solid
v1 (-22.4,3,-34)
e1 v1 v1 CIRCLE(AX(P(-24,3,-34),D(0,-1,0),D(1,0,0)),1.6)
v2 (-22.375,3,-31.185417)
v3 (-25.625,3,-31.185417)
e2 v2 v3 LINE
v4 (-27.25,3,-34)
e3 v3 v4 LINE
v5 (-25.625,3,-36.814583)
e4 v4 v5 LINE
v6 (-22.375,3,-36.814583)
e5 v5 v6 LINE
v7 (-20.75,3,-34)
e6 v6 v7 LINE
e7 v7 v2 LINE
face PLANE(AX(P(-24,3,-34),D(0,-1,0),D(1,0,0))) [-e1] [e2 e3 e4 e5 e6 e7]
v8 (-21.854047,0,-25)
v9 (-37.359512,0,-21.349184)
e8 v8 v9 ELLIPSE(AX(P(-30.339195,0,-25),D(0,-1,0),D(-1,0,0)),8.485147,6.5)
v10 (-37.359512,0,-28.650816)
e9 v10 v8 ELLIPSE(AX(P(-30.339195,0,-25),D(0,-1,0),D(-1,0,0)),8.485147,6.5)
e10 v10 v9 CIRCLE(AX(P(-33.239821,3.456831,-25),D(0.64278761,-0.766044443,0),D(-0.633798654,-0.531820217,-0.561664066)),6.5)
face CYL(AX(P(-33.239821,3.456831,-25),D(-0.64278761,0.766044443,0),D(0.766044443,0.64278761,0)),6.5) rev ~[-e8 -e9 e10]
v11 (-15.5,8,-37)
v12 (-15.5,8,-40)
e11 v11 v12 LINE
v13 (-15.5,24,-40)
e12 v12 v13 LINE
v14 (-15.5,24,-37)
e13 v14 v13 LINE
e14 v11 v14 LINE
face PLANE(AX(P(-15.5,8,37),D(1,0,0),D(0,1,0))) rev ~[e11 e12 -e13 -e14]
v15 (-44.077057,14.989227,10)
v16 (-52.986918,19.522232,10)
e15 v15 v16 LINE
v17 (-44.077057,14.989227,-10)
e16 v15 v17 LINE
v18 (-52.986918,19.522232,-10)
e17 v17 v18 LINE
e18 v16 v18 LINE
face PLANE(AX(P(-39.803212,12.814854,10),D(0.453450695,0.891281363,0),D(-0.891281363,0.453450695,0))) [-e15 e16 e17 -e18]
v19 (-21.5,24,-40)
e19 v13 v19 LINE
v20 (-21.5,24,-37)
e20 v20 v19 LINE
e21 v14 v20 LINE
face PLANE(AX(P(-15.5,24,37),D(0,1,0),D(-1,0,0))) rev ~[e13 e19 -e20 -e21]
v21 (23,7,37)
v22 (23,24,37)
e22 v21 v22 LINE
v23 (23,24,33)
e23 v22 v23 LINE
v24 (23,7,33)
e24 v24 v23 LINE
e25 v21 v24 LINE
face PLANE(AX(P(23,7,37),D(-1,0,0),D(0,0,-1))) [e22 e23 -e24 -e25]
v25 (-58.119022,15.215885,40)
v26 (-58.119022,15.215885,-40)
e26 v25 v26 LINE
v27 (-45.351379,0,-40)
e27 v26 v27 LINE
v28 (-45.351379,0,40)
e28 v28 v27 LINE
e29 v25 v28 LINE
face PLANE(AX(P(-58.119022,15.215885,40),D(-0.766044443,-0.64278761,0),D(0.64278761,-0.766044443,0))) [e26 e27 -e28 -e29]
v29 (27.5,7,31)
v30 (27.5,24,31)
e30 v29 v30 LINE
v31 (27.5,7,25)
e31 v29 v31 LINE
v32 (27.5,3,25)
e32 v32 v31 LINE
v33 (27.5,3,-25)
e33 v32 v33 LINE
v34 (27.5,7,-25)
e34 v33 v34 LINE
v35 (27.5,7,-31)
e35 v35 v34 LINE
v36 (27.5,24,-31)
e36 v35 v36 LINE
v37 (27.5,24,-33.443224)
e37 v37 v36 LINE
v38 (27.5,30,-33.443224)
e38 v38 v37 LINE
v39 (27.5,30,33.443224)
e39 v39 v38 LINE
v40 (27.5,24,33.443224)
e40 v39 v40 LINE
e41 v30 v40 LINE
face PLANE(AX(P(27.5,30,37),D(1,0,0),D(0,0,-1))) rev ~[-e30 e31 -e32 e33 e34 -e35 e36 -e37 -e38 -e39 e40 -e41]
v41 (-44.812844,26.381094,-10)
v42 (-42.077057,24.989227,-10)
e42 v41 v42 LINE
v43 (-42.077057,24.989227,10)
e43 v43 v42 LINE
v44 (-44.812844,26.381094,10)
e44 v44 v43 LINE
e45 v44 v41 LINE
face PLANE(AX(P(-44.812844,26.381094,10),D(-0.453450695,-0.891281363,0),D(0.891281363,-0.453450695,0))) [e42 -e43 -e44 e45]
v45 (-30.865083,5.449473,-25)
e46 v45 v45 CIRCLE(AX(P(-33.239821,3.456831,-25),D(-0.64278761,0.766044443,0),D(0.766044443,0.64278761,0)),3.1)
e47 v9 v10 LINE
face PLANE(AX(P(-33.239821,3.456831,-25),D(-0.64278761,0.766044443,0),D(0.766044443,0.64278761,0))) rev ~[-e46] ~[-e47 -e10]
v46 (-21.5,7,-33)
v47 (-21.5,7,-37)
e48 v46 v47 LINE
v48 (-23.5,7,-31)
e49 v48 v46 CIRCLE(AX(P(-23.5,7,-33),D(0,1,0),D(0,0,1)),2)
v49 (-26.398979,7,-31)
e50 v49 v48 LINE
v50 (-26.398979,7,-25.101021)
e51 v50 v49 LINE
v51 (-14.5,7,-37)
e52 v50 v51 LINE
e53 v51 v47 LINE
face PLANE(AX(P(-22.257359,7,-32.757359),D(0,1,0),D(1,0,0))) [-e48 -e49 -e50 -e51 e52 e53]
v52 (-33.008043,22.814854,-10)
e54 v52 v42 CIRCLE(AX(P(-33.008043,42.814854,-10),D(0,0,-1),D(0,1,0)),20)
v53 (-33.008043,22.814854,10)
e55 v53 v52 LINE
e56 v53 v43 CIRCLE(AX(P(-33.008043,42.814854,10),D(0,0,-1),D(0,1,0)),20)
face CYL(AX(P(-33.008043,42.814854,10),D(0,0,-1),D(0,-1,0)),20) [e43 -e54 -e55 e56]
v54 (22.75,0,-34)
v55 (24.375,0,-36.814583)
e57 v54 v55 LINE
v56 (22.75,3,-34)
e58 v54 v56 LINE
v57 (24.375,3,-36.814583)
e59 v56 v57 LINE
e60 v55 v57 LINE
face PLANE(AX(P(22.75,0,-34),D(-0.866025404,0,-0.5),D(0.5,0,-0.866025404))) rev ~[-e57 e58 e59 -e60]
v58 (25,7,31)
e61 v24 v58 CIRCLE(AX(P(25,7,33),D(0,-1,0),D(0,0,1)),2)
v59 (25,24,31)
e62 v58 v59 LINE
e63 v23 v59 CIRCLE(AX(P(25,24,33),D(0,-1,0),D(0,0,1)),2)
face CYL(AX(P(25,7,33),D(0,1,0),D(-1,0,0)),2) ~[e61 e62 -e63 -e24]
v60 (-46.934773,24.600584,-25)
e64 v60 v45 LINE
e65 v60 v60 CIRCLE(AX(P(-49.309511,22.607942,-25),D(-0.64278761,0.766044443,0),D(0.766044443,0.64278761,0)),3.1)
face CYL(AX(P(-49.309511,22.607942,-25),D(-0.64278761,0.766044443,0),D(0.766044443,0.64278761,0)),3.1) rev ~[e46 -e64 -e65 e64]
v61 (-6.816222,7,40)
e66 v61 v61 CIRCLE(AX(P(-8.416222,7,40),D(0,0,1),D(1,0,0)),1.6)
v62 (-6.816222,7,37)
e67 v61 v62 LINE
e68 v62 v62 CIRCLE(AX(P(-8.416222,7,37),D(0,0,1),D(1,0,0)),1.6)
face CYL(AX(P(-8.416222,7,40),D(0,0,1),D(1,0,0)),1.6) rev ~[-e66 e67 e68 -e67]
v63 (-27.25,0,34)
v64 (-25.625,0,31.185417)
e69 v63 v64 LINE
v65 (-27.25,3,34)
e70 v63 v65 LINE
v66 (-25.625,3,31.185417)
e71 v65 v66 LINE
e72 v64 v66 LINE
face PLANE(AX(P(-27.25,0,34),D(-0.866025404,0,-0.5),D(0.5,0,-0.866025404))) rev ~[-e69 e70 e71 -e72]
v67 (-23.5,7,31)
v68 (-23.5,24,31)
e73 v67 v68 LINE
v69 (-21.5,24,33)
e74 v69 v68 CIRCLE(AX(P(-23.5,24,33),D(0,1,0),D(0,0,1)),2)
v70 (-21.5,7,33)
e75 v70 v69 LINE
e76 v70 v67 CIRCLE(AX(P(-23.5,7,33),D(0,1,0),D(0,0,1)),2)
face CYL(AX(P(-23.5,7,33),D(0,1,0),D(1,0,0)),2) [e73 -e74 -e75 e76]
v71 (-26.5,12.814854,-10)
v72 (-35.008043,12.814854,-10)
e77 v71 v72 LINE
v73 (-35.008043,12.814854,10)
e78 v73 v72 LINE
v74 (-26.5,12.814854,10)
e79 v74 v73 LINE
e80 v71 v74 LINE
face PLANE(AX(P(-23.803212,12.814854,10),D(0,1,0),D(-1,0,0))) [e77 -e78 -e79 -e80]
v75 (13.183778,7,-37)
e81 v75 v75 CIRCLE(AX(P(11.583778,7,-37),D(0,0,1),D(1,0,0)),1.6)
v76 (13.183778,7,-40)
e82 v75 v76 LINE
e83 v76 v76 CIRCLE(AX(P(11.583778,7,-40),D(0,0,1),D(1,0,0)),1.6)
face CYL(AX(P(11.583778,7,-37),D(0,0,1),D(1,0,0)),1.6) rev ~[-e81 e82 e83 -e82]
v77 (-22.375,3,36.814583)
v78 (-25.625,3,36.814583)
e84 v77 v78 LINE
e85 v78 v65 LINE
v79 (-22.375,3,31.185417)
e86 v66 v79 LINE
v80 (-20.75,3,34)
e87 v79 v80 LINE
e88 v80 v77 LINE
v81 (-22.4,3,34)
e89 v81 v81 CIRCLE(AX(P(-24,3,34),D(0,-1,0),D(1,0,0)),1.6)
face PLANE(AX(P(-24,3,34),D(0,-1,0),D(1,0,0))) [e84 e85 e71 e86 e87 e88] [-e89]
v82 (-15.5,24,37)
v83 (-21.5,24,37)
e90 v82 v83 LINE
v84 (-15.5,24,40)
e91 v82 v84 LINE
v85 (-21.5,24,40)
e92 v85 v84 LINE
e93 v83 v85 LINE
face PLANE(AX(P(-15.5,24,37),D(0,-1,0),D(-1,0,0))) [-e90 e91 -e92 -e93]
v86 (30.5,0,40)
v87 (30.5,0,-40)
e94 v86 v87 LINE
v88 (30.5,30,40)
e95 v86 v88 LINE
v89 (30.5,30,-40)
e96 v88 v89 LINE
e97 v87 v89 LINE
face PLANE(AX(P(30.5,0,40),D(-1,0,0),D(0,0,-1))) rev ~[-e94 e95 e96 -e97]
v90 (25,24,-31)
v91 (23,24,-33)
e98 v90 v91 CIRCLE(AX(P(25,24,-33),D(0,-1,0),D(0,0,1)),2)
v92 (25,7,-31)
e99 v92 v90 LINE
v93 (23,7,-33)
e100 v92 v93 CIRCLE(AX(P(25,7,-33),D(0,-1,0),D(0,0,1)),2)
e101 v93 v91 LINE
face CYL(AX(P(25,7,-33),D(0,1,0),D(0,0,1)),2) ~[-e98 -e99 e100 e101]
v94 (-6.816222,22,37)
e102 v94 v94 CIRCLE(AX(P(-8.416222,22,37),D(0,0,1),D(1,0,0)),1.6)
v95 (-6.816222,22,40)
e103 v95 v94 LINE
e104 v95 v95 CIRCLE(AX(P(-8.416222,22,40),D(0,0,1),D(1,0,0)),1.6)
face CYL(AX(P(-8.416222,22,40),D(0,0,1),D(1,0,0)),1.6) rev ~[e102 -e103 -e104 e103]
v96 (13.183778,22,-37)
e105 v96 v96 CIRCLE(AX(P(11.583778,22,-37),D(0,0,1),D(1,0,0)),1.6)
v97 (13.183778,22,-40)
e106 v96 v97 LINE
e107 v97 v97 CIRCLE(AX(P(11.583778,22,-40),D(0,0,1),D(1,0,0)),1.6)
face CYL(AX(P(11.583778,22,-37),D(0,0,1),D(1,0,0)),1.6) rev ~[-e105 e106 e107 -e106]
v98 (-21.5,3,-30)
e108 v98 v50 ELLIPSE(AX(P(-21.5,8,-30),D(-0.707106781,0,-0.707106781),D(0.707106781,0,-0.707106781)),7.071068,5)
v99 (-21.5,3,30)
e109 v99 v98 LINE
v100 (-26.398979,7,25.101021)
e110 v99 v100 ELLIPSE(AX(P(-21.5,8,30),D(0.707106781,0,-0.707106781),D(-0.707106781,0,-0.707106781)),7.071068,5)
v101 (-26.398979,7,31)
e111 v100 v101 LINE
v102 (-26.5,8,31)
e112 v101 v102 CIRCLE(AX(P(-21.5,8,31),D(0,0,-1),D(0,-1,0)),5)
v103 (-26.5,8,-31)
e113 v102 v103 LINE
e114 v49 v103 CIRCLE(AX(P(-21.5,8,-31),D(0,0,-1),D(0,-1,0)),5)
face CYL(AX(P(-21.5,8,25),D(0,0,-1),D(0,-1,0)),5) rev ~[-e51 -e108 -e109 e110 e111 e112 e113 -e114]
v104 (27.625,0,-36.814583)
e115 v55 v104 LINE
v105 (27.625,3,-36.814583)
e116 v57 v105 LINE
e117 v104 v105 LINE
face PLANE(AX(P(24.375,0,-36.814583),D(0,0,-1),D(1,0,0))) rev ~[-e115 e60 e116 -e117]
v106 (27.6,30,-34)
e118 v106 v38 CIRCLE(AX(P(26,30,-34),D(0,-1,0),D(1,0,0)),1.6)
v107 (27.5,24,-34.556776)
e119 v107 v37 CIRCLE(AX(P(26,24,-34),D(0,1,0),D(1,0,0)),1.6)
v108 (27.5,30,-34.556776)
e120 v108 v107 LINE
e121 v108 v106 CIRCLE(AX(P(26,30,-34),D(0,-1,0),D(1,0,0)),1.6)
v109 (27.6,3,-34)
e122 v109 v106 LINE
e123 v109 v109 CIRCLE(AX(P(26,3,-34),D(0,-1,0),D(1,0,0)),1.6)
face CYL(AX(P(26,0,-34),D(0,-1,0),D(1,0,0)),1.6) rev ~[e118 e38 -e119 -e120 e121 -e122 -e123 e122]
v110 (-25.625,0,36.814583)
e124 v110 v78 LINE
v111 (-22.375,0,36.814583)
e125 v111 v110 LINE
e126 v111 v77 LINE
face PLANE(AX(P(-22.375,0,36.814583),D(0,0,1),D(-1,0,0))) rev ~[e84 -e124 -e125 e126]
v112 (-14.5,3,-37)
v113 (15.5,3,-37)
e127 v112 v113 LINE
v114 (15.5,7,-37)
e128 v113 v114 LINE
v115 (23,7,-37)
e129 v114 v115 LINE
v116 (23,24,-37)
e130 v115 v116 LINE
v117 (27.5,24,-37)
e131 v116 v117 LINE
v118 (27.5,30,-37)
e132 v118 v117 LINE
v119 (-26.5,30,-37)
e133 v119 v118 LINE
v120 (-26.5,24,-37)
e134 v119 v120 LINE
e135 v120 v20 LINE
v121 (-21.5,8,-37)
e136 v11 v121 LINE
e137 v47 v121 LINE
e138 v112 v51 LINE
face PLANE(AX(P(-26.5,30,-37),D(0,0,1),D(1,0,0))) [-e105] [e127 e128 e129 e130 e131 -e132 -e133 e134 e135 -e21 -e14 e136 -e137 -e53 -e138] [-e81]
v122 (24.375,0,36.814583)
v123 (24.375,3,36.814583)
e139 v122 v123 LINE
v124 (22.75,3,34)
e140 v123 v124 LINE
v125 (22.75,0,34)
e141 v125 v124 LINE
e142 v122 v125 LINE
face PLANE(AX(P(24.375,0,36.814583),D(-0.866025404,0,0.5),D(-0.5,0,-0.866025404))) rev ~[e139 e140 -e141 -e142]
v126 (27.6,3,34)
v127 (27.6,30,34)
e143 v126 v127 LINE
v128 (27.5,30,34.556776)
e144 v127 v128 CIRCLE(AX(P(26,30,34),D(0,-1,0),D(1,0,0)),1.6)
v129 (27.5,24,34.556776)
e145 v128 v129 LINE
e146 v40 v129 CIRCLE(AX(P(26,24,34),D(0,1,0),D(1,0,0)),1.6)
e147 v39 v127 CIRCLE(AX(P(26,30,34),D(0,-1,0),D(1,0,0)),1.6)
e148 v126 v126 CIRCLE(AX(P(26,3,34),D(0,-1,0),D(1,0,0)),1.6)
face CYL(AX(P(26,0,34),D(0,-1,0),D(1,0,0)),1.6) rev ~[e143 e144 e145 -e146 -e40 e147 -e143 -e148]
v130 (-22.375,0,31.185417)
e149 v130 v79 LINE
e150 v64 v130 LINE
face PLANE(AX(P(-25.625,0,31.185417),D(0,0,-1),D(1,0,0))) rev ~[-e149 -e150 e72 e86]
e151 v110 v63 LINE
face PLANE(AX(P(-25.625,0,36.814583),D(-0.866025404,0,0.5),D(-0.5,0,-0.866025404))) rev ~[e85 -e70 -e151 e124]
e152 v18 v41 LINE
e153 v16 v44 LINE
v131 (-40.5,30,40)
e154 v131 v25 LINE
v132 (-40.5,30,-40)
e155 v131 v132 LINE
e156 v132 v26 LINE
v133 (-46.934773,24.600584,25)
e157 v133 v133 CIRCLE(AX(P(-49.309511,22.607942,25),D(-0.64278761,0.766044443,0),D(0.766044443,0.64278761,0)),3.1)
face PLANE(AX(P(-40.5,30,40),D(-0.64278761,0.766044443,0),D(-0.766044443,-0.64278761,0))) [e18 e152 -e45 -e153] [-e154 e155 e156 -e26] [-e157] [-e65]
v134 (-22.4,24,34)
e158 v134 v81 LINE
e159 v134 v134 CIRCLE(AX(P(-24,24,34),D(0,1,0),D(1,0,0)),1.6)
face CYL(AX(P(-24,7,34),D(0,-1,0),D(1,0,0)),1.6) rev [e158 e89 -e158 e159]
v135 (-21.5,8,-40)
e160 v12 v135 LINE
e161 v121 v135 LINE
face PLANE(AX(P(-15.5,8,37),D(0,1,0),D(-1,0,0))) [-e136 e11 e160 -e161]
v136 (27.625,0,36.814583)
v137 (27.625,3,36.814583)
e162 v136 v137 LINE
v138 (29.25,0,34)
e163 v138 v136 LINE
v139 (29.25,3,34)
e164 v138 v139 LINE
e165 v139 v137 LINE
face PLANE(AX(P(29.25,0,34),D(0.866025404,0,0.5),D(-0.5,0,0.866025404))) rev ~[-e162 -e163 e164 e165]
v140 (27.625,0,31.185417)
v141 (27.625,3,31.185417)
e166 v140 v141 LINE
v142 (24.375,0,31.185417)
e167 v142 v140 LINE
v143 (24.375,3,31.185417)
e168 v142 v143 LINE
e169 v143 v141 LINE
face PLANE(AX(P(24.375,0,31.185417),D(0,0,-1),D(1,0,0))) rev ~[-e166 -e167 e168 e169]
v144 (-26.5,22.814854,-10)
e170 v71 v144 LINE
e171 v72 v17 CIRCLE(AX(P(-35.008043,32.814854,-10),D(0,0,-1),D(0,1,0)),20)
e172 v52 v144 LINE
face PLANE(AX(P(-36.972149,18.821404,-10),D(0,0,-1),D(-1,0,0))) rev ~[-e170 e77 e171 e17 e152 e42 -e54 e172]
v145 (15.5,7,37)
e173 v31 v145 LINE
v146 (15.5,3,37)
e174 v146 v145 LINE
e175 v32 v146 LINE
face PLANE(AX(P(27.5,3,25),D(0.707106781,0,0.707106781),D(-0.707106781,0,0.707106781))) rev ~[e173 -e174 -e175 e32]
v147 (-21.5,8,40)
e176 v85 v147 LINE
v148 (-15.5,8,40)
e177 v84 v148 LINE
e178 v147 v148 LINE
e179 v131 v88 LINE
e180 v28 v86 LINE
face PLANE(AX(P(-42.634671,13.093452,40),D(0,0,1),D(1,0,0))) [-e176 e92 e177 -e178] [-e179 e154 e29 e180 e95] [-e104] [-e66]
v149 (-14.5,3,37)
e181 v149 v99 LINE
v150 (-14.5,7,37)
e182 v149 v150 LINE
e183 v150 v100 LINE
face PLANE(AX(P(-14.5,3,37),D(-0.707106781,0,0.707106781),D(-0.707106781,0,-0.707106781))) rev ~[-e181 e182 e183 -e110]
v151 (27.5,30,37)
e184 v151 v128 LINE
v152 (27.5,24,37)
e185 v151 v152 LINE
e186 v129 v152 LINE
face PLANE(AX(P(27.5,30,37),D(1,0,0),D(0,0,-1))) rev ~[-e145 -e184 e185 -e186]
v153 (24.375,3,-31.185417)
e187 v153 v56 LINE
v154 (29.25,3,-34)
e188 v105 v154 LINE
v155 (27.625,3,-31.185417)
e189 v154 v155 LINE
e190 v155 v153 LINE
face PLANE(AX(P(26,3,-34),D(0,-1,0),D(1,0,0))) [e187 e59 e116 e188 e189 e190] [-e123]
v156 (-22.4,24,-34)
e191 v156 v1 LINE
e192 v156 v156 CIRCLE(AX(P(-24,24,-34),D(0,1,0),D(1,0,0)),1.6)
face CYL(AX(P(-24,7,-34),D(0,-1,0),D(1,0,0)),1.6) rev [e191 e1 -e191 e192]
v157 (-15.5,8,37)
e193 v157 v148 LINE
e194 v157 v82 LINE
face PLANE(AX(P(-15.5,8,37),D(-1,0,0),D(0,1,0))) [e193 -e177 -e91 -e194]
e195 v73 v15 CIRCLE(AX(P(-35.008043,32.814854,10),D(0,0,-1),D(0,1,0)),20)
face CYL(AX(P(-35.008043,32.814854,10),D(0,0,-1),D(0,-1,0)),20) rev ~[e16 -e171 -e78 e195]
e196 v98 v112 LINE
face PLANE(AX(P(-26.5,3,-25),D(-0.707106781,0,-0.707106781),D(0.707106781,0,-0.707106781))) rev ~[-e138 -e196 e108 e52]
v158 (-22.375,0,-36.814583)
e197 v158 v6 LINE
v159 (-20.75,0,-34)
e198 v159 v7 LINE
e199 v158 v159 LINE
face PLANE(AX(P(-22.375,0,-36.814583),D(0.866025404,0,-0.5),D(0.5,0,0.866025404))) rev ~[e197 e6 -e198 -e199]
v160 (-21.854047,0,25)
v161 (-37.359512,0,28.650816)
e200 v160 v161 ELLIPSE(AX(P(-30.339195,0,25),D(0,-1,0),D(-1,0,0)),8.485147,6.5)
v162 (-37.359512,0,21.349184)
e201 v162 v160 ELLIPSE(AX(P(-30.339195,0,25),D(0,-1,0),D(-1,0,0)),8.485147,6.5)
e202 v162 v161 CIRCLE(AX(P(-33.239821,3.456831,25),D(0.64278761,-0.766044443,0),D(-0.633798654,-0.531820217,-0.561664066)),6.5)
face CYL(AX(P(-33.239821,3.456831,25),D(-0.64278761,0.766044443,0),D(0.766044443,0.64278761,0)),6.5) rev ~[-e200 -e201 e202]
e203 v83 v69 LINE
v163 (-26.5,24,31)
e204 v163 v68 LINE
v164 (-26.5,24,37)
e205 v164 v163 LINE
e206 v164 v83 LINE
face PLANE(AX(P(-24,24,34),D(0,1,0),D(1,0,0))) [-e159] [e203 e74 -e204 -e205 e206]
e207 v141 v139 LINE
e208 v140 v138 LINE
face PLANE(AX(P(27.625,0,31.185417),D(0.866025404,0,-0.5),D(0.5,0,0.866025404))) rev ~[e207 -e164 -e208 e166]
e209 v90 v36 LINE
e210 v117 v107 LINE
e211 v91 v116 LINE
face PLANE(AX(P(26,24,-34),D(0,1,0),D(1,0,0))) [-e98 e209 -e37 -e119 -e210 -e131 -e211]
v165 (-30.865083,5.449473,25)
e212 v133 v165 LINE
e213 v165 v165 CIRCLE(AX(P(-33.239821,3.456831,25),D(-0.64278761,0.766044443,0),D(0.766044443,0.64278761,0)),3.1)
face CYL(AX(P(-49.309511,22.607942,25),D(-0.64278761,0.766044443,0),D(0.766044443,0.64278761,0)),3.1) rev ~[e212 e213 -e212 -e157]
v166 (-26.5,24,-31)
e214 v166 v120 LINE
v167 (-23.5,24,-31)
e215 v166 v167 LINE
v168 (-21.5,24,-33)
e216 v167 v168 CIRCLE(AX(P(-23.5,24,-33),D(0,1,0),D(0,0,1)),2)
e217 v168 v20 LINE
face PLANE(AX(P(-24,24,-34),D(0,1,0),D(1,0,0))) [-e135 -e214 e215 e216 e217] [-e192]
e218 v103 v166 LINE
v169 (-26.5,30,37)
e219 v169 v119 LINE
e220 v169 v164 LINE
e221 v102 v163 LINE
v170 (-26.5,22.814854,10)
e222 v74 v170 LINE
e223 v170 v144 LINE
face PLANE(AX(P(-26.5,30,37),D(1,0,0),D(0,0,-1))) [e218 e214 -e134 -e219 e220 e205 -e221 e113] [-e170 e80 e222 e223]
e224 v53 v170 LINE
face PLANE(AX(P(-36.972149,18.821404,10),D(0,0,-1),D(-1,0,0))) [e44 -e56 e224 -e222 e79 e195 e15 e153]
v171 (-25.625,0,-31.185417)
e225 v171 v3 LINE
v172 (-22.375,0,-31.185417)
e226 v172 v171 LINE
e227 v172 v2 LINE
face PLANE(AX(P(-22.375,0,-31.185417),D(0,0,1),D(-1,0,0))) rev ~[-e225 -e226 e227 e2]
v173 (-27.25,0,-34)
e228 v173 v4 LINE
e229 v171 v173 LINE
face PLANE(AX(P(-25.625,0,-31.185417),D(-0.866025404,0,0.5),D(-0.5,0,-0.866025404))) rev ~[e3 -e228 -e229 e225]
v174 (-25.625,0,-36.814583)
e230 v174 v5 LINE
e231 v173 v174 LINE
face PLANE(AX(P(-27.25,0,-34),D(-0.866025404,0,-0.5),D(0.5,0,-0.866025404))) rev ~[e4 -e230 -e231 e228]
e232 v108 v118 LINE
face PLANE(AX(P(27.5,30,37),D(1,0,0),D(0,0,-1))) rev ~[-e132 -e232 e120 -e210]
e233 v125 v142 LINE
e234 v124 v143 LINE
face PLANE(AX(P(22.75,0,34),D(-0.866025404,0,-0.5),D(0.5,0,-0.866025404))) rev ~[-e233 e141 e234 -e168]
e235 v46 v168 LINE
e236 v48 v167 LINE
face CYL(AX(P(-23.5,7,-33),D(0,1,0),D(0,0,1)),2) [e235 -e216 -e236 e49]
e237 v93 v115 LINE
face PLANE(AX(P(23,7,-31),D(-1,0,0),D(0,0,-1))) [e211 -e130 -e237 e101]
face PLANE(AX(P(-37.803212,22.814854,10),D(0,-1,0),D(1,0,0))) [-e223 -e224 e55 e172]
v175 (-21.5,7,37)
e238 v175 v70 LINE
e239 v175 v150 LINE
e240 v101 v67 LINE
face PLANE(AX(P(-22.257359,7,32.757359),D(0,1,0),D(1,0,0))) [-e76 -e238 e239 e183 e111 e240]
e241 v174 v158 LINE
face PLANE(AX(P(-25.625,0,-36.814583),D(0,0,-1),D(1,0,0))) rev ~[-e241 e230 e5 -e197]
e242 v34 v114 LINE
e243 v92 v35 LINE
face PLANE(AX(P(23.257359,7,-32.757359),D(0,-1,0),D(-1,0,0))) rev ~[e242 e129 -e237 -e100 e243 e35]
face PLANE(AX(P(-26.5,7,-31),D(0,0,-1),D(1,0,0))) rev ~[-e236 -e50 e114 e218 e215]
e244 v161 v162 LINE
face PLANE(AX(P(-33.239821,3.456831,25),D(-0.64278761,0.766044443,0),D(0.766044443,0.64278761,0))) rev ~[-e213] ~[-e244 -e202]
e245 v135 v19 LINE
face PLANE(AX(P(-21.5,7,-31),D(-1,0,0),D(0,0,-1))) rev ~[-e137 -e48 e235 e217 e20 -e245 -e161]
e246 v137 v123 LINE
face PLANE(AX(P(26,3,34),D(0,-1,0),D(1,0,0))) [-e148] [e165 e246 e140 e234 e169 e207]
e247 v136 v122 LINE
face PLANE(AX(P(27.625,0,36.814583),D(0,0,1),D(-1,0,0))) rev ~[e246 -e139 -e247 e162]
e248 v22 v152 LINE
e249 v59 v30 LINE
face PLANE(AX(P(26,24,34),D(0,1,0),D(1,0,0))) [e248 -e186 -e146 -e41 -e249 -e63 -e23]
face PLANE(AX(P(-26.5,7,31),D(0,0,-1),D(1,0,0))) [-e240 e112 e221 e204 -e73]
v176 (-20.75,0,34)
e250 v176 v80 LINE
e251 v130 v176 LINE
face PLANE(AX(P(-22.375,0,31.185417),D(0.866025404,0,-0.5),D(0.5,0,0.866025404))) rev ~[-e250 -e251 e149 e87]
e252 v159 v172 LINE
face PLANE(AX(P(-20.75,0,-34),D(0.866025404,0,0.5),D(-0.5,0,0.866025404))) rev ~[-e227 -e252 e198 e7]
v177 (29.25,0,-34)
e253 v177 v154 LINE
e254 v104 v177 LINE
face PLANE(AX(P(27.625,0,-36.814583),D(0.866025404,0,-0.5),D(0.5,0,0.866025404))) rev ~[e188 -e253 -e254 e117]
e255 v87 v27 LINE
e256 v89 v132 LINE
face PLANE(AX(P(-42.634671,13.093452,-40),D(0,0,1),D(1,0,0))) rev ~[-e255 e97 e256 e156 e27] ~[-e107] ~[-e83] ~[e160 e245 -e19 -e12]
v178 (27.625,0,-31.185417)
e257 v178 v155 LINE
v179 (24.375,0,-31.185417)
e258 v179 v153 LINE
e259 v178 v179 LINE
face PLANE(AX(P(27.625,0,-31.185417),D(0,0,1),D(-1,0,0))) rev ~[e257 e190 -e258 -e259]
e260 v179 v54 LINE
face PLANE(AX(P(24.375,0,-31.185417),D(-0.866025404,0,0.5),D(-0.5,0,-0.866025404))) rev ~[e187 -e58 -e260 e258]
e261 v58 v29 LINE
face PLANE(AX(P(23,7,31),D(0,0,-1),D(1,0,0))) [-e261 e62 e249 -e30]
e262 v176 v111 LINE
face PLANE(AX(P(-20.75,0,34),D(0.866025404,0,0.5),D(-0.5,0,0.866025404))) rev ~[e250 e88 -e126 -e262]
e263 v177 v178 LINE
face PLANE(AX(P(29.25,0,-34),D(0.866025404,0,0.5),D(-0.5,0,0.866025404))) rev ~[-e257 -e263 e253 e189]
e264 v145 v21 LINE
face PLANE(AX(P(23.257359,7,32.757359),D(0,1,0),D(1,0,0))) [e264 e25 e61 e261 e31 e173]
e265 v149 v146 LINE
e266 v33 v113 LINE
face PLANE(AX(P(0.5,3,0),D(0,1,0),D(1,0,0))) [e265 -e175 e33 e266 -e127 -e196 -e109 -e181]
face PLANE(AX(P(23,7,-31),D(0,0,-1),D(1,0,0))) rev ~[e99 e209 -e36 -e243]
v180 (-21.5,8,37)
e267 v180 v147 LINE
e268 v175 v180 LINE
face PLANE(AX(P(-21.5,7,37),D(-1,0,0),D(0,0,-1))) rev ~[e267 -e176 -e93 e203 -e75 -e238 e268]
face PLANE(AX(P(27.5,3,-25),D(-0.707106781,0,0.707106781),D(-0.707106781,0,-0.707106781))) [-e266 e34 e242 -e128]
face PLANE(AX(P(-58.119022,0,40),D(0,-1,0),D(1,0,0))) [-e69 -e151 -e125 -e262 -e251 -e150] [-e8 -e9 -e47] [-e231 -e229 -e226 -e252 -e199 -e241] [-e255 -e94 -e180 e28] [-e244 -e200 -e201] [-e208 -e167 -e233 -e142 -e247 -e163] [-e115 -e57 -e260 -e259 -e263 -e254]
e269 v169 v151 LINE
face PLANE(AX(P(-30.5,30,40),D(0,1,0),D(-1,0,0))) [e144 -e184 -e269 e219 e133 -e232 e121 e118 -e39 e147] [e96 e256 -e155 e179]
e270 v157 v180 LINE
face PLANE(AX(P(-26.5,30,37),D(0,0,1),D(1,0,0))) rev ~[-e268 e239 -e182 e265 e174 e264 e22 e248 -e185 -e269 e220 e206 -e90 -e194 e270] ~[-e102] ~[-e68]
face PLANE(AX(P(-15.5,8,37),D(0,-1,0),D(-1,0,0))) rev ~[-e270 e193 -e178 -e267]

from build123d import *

# Parameters (mm, degrees)
SKETCH1_W                = 61
SKETCH1_H                = 80
BOSS_EXTRUDE1_DEPTH      = 30
SKETCH2_W                = 54
SKETCH2_H                = 74
CUT_EXTRUDE1_DEPTH       = 27
BOSS_EXTRUDE3_DEPTH      = 80
BOSS_EXTRUDE2_DEPTH      = 4
SKETCH5_R                = 1.6
CUT_EXTRUDE3_DEPTH       = 31
CUT_EXTRUDE4_DEPTH       = 3
CUT_EXTRUDE6_DEPTH       = 81
SKETCH16_R               = 3.1
CUT_EXTRUDE8_DEPTH       = 69.619253581
FILLET1_R                = 5
CUT_EXTRUDE9_START       = -25
SKETCH17_R               = 6.5
CUT_EXTRUDE9_DEPTH       = 10
CUT_EXTRUDE10_START      = -30
CUT_EXTRUDE10_DEPTH      = 20
FILLET2_R                = 20
CUT_EXTRUDE11_REACH      = 82
SKETCH19_R               = 1.6
SKETCH20_W               = 6
SKETCH20_H               = 16
CUT_EXTRUDE12_DEPTH      = 78
CUT_EXTRUDE12_DEPTH_BACK = 4
SKETCH21_W               = 5
SKETCH21_H               = 6
SKETCH21_R               = 1.6
SKETCH21_W_2             = 6
BOSS_EXTRUDE4_DEPTH      = 17
FILLET4_R                = 2
CUT_EXTRUDE13_START      = -77
SKETCH22_R               = 1.6
CUT_EXTRUDE13_DEPTH      = 4


with BuildPart() as part:
    # Sketch1 → Boss-Extrude1 (new body)
    with BuildSketch(Plane(origin=(0, 0, 0), x_dir=(1, 0, 0), z_dir=(0, 1, 0))):
        Rectangle(SKETCH1_W, SKETCH1_H)
    extrude(amount=BOSS_EXTRUDE1_DEPTH)

    # Sketch2 → Cut-Extrude1 (cut)
    with BuildSketch(Plane(origin=(0, 30, 0), x_dir=(1, 0, 0), z_dir=(0, 1, 0))):
        with Locations((0.5, 0)):
            Rectangle(SKETCH2_W, SKETCH2_H)
    extrude(amount=-CUT_EXTRUDE1_DEPTH, mode=Mode.SUBTRACT)

    # Sketch11 → Boss-Extrude3 (add)
    with BuildSketch(Plane.XY.offset(40)):
        Polygon((-30.5, 30), (-40.5, 30), (-58.119022192, 15.215884977), (-58.119022192, 0), (-30.5, 0), align=None)
    extrude(amount=-BOSS_EXTRUDE3_DEPTH)

    # Sketch7 → Boss-Extrude2 (add)
    with BuildSketch(Plane(origin=(0, 3, 0), x_dir=(1, 0, 0), z_dir=(0, 1, 0))):
        Polygon((27.5, -25), (15.5, -37), (27.5, -37), align=None)
        Polygon((27.5, 25), (15.5, 37), (27.5, 37), align=None)
        Polygon((-26.5, 25), (-14.5, 37), (-26.5, 37), align=None)
        Polygon((-14.5, -37), (-26.5, -25), (-26.5, -37), align=None)
    extrude(amount=BOSS_EXTRUDE2_DEPTH)

    # Sketch5 → Cut-Extrude3 (cut, through all)
    with BuildSketch(Plane.XZ):
        with Locations((-24, -34)):
            Circle(SKETCH5_R)
        with Locations((-24, 34)):
            Circle(SKETCH5_R)
        with Locations((26, 34)):
            Circle(SKETCH5_R)
        with Locations((26, -34)):
            Circle(SKETCH5_R)
    extrude(amount=-CUT_EXTRUDE3_DEPTH, mode=Mode.SUBTRACT)

    # Sketch8 → Cut-Extrude4 (cut)
    with BuildSketch(Plane.XZ):
        Polygon((-25.625, 36.814582562), (-27.25, 34), (-25.625, 31.185417438), (-22.375, 31.185417438), (-20.75, 34), (-22.375, 36.814582562), align=None)
        Polygon((24.375, 36.814582562), (22.75, 34), (24.375, 31.185417438), (27.625, 31.185417438), (29.25, 34), (27.625, 36.814582562), align=None)
        Polygon((-25.625, -31.185417438), (-27.25, -34), (-25.625, -36.814582562), (-22.375, -36.814582562), (-20.75, -34), (-22.375, -31.185417438), align=None)
        Polygon((24.375, -31.185417438), (22.75, -34), (24.375, -36.814582562), (27.625, -36.814582562), (29.25, -34), (27.625, -31.185417438), align=None)
    extrude(amount=-CUT_EXTRUDE4_DEPTH, mode=Mode.SUBTRACT)

    # Sketch12 → Cut-Extrude6 (cut, through all)
    with BuildSketch(Plane.XY.offset(40)):
        Polygon((-58.119022192, 15.215884977), (-45.351378719, 0), (-58.119022192, 0), align=None)
    extrude(amount=-CUT_EXTRUDE6_DEPTH, mode=Mode.SUBTRACT)

    # Sketch16 → Cut-Extrude8 (cut, through all)
    with BuildSketch(Plane(origin=(-31.505740697, 37.547079664, 0), x_dir=(0.766044443, 0.64278761, 0), z_dir=(-0.64278761, 0.766044443, 0))):
        with Locations((-23.241171656, 25)):
            Circle(SKETCH16_R)
        with Locations((-23.241171656, -25)):
            Circle(SKETCH16_R)
    extrude(amount=-CUT_EXTRUDE8_DEPTH, mode=Mode.SUBTRACT)

    # Fillet1
    fillet1_edges = [part.edges().sort_by_distance(p)[0] for p in [
        (-26.5, 3, 0),
    ]]
    fillet(fillet1_edges, radius=FILLET1_R)

    # Sketch17 → Cut-Extrude9 (cut)
    with BuildSketch(Plane(origin=(-31.505740697, 37.547079664, 0), x_dir=(0.766044443, 0.64278761, 0), z_dir=(-0.64278761, 0.766044443, 0)).offset(CUT_EXTRUDE9_START)):
        with Locations((-23.241171656, -25)):
            Circle(SKETCH17_R)
        with Locations((-23.241171656, 25)):
            Circle(SKETCH17_R)
    extrude(amount=-CUT_EXTRUDE9_DEPTH, mode=Mode.SUBTRACT)

    # Sketch18 → Cut-Extrude10 (cut)
    with BuildSketch(Plane.XY.offset(40).offset(CUT_EXTRUDE10_START)):
        Polygon((-44.812844495, 26.381093775), (-37.803211847, 22.814854282), (-23.803211847, 22.814854282), (-23.803211847, 12.814854282), (-39.803211847, 12.814854282), (-52.986917817, 19.522231865), align=None)
    extrude(amount=-CUT_EXTRUDE10_DEPTH, mode=Mode.SUBTRACT)

    # Fillet2
    fillet2_edges = [part.edges().sort_by_distance(p)[0] for p in [
        (-37.803211847, 22.814854282, 0),
        (-39.803211847, 12.814854282, 0),
    ]]
    fillet(fillet2_edges, radius=FILLET2_R)

    # Sketch19 → Cut-Extrude11 (cut, up to next)
    with BuildSketch(Plane.XY.offset(40), mode=Mode.PRIVATE) as cut_extrude11_sk1:
        with Locations((-8.416221869, 22)):
            Circle(SKETCH19_R)
    cut_extrude11_tool1 = extrude(cut_extrude11_sk1.sketch, amount=-CUT_EXTRUDE11_REACH, mode=Mode.PRIVATE) & part.part
    add(cut_extrude11_tool1.solids().sort_by_distance((-8.416222, 22, 40))[0], mode=Mode.SUBTRACT)
    # Sketch19 → Cut-Extrude11 (cut, up to next)
    with BuildSketch(Plane.XY.offset(40), mode=Mode.PRIVATE) as cut_extrude11_sk2:
        with Locations((-8.416221869, 7)):
            Circle(SKETCH19_R)
    cut_extrude11_tool2 = extrude(cut_extrude11_sk2.sketch, amount=-CUT_EXTRUDE11_REACH, mode=Mode.PRIVATE) & part.part
    add(cut_extrude11_tool2.solids().sort_by_distance((-8.416222, 7, 40))[0], mode=Mode.SUBTRACT)

    # Sketch20 → Cut-Extrude12 (cut, two sides)
    with BuildSketch(Plane(origin=(0, 0, 37), x_dir=(-1, 0, 0), z_dir=(0, 0, -1))) as cut_extrude12_sk:
        with Locations((18.5, 16)):
            Rectangle(SKETCH20_W, SKETCH20_H)
    extrude(amount=CUT_EXTRUDE12_DEPTH, mode=Mode.SUBTRACT)
    extrude(cut_extrude12_sk.sketch, amount=-CUT_EXTRUDE12_DEPTH_BACK, mode=Mode.SUBTRACT)

    # Sketch21 → Boss-Extrude4 (add)
    with BuildSketch(Plane(origin=(0, 7, 0), x_dir=(1, 0, 0), z_dir=(0, 1, 0))):
        with Locations((-24, -34)):
            Rectangle(SKETCH21_W, SKETCH21_H)
        with Locations((-24, -34)):
            Circle(SKETCH21_R, mode=Mode.SUBTRACT)
        with Locations((-24, 34)):
            Rectangle(SKETCH21_W, SKETCH21_H)
        with Locations((-24, 34)):
            Circle(SKETCH21_R, mode=Mode.SUBTRACT)
        with Locations((26, 34)):
            Rectangle(SKETCH21_W_2, SKETCH21_H)
        with Locations((26, 34)):
            Circle(SKETCH21_R, mode=Mode.SUBTRACT)
        with Locations((26, -34)):
            Rectangle(SKETCH21_W_2, SKETCH21_H)
        with Locations((26, -34)):
            Circle(SKETCH21_R, mode=Mode.SUBTRACT)
    extrude(amount=BOSS_EXTRUDE4_DEPTH)

    # Fillet4
    fillet4_edges = [part.edges().sort_by_distance(p)[0] for p in [
        (-21.5, 15.5, 31),
        (-21.5, 15.5, -31),
        (23, 15.5, -31),
        (23, 15.5, 31),
    ]]
    fillet(fillet4_edges, radius=FILLET4_R)

    # Sketch22 → Cut-Extrude13 (cut, through all)
    with BuildSketch(Plane.XY.offset(40).offset(CUT_EXTRUDE13_START)):
        with Locations((11.583778131, 22)):
            Circle(SKETCH22_R)
        with Locations((11.583778131, 7)):
            Circle(SKETCH22_R)
    extrude(amount=-CUT_EXTRUDE13_DEPTH, mode=Mode.SUBTRACT)


solid = part.part
